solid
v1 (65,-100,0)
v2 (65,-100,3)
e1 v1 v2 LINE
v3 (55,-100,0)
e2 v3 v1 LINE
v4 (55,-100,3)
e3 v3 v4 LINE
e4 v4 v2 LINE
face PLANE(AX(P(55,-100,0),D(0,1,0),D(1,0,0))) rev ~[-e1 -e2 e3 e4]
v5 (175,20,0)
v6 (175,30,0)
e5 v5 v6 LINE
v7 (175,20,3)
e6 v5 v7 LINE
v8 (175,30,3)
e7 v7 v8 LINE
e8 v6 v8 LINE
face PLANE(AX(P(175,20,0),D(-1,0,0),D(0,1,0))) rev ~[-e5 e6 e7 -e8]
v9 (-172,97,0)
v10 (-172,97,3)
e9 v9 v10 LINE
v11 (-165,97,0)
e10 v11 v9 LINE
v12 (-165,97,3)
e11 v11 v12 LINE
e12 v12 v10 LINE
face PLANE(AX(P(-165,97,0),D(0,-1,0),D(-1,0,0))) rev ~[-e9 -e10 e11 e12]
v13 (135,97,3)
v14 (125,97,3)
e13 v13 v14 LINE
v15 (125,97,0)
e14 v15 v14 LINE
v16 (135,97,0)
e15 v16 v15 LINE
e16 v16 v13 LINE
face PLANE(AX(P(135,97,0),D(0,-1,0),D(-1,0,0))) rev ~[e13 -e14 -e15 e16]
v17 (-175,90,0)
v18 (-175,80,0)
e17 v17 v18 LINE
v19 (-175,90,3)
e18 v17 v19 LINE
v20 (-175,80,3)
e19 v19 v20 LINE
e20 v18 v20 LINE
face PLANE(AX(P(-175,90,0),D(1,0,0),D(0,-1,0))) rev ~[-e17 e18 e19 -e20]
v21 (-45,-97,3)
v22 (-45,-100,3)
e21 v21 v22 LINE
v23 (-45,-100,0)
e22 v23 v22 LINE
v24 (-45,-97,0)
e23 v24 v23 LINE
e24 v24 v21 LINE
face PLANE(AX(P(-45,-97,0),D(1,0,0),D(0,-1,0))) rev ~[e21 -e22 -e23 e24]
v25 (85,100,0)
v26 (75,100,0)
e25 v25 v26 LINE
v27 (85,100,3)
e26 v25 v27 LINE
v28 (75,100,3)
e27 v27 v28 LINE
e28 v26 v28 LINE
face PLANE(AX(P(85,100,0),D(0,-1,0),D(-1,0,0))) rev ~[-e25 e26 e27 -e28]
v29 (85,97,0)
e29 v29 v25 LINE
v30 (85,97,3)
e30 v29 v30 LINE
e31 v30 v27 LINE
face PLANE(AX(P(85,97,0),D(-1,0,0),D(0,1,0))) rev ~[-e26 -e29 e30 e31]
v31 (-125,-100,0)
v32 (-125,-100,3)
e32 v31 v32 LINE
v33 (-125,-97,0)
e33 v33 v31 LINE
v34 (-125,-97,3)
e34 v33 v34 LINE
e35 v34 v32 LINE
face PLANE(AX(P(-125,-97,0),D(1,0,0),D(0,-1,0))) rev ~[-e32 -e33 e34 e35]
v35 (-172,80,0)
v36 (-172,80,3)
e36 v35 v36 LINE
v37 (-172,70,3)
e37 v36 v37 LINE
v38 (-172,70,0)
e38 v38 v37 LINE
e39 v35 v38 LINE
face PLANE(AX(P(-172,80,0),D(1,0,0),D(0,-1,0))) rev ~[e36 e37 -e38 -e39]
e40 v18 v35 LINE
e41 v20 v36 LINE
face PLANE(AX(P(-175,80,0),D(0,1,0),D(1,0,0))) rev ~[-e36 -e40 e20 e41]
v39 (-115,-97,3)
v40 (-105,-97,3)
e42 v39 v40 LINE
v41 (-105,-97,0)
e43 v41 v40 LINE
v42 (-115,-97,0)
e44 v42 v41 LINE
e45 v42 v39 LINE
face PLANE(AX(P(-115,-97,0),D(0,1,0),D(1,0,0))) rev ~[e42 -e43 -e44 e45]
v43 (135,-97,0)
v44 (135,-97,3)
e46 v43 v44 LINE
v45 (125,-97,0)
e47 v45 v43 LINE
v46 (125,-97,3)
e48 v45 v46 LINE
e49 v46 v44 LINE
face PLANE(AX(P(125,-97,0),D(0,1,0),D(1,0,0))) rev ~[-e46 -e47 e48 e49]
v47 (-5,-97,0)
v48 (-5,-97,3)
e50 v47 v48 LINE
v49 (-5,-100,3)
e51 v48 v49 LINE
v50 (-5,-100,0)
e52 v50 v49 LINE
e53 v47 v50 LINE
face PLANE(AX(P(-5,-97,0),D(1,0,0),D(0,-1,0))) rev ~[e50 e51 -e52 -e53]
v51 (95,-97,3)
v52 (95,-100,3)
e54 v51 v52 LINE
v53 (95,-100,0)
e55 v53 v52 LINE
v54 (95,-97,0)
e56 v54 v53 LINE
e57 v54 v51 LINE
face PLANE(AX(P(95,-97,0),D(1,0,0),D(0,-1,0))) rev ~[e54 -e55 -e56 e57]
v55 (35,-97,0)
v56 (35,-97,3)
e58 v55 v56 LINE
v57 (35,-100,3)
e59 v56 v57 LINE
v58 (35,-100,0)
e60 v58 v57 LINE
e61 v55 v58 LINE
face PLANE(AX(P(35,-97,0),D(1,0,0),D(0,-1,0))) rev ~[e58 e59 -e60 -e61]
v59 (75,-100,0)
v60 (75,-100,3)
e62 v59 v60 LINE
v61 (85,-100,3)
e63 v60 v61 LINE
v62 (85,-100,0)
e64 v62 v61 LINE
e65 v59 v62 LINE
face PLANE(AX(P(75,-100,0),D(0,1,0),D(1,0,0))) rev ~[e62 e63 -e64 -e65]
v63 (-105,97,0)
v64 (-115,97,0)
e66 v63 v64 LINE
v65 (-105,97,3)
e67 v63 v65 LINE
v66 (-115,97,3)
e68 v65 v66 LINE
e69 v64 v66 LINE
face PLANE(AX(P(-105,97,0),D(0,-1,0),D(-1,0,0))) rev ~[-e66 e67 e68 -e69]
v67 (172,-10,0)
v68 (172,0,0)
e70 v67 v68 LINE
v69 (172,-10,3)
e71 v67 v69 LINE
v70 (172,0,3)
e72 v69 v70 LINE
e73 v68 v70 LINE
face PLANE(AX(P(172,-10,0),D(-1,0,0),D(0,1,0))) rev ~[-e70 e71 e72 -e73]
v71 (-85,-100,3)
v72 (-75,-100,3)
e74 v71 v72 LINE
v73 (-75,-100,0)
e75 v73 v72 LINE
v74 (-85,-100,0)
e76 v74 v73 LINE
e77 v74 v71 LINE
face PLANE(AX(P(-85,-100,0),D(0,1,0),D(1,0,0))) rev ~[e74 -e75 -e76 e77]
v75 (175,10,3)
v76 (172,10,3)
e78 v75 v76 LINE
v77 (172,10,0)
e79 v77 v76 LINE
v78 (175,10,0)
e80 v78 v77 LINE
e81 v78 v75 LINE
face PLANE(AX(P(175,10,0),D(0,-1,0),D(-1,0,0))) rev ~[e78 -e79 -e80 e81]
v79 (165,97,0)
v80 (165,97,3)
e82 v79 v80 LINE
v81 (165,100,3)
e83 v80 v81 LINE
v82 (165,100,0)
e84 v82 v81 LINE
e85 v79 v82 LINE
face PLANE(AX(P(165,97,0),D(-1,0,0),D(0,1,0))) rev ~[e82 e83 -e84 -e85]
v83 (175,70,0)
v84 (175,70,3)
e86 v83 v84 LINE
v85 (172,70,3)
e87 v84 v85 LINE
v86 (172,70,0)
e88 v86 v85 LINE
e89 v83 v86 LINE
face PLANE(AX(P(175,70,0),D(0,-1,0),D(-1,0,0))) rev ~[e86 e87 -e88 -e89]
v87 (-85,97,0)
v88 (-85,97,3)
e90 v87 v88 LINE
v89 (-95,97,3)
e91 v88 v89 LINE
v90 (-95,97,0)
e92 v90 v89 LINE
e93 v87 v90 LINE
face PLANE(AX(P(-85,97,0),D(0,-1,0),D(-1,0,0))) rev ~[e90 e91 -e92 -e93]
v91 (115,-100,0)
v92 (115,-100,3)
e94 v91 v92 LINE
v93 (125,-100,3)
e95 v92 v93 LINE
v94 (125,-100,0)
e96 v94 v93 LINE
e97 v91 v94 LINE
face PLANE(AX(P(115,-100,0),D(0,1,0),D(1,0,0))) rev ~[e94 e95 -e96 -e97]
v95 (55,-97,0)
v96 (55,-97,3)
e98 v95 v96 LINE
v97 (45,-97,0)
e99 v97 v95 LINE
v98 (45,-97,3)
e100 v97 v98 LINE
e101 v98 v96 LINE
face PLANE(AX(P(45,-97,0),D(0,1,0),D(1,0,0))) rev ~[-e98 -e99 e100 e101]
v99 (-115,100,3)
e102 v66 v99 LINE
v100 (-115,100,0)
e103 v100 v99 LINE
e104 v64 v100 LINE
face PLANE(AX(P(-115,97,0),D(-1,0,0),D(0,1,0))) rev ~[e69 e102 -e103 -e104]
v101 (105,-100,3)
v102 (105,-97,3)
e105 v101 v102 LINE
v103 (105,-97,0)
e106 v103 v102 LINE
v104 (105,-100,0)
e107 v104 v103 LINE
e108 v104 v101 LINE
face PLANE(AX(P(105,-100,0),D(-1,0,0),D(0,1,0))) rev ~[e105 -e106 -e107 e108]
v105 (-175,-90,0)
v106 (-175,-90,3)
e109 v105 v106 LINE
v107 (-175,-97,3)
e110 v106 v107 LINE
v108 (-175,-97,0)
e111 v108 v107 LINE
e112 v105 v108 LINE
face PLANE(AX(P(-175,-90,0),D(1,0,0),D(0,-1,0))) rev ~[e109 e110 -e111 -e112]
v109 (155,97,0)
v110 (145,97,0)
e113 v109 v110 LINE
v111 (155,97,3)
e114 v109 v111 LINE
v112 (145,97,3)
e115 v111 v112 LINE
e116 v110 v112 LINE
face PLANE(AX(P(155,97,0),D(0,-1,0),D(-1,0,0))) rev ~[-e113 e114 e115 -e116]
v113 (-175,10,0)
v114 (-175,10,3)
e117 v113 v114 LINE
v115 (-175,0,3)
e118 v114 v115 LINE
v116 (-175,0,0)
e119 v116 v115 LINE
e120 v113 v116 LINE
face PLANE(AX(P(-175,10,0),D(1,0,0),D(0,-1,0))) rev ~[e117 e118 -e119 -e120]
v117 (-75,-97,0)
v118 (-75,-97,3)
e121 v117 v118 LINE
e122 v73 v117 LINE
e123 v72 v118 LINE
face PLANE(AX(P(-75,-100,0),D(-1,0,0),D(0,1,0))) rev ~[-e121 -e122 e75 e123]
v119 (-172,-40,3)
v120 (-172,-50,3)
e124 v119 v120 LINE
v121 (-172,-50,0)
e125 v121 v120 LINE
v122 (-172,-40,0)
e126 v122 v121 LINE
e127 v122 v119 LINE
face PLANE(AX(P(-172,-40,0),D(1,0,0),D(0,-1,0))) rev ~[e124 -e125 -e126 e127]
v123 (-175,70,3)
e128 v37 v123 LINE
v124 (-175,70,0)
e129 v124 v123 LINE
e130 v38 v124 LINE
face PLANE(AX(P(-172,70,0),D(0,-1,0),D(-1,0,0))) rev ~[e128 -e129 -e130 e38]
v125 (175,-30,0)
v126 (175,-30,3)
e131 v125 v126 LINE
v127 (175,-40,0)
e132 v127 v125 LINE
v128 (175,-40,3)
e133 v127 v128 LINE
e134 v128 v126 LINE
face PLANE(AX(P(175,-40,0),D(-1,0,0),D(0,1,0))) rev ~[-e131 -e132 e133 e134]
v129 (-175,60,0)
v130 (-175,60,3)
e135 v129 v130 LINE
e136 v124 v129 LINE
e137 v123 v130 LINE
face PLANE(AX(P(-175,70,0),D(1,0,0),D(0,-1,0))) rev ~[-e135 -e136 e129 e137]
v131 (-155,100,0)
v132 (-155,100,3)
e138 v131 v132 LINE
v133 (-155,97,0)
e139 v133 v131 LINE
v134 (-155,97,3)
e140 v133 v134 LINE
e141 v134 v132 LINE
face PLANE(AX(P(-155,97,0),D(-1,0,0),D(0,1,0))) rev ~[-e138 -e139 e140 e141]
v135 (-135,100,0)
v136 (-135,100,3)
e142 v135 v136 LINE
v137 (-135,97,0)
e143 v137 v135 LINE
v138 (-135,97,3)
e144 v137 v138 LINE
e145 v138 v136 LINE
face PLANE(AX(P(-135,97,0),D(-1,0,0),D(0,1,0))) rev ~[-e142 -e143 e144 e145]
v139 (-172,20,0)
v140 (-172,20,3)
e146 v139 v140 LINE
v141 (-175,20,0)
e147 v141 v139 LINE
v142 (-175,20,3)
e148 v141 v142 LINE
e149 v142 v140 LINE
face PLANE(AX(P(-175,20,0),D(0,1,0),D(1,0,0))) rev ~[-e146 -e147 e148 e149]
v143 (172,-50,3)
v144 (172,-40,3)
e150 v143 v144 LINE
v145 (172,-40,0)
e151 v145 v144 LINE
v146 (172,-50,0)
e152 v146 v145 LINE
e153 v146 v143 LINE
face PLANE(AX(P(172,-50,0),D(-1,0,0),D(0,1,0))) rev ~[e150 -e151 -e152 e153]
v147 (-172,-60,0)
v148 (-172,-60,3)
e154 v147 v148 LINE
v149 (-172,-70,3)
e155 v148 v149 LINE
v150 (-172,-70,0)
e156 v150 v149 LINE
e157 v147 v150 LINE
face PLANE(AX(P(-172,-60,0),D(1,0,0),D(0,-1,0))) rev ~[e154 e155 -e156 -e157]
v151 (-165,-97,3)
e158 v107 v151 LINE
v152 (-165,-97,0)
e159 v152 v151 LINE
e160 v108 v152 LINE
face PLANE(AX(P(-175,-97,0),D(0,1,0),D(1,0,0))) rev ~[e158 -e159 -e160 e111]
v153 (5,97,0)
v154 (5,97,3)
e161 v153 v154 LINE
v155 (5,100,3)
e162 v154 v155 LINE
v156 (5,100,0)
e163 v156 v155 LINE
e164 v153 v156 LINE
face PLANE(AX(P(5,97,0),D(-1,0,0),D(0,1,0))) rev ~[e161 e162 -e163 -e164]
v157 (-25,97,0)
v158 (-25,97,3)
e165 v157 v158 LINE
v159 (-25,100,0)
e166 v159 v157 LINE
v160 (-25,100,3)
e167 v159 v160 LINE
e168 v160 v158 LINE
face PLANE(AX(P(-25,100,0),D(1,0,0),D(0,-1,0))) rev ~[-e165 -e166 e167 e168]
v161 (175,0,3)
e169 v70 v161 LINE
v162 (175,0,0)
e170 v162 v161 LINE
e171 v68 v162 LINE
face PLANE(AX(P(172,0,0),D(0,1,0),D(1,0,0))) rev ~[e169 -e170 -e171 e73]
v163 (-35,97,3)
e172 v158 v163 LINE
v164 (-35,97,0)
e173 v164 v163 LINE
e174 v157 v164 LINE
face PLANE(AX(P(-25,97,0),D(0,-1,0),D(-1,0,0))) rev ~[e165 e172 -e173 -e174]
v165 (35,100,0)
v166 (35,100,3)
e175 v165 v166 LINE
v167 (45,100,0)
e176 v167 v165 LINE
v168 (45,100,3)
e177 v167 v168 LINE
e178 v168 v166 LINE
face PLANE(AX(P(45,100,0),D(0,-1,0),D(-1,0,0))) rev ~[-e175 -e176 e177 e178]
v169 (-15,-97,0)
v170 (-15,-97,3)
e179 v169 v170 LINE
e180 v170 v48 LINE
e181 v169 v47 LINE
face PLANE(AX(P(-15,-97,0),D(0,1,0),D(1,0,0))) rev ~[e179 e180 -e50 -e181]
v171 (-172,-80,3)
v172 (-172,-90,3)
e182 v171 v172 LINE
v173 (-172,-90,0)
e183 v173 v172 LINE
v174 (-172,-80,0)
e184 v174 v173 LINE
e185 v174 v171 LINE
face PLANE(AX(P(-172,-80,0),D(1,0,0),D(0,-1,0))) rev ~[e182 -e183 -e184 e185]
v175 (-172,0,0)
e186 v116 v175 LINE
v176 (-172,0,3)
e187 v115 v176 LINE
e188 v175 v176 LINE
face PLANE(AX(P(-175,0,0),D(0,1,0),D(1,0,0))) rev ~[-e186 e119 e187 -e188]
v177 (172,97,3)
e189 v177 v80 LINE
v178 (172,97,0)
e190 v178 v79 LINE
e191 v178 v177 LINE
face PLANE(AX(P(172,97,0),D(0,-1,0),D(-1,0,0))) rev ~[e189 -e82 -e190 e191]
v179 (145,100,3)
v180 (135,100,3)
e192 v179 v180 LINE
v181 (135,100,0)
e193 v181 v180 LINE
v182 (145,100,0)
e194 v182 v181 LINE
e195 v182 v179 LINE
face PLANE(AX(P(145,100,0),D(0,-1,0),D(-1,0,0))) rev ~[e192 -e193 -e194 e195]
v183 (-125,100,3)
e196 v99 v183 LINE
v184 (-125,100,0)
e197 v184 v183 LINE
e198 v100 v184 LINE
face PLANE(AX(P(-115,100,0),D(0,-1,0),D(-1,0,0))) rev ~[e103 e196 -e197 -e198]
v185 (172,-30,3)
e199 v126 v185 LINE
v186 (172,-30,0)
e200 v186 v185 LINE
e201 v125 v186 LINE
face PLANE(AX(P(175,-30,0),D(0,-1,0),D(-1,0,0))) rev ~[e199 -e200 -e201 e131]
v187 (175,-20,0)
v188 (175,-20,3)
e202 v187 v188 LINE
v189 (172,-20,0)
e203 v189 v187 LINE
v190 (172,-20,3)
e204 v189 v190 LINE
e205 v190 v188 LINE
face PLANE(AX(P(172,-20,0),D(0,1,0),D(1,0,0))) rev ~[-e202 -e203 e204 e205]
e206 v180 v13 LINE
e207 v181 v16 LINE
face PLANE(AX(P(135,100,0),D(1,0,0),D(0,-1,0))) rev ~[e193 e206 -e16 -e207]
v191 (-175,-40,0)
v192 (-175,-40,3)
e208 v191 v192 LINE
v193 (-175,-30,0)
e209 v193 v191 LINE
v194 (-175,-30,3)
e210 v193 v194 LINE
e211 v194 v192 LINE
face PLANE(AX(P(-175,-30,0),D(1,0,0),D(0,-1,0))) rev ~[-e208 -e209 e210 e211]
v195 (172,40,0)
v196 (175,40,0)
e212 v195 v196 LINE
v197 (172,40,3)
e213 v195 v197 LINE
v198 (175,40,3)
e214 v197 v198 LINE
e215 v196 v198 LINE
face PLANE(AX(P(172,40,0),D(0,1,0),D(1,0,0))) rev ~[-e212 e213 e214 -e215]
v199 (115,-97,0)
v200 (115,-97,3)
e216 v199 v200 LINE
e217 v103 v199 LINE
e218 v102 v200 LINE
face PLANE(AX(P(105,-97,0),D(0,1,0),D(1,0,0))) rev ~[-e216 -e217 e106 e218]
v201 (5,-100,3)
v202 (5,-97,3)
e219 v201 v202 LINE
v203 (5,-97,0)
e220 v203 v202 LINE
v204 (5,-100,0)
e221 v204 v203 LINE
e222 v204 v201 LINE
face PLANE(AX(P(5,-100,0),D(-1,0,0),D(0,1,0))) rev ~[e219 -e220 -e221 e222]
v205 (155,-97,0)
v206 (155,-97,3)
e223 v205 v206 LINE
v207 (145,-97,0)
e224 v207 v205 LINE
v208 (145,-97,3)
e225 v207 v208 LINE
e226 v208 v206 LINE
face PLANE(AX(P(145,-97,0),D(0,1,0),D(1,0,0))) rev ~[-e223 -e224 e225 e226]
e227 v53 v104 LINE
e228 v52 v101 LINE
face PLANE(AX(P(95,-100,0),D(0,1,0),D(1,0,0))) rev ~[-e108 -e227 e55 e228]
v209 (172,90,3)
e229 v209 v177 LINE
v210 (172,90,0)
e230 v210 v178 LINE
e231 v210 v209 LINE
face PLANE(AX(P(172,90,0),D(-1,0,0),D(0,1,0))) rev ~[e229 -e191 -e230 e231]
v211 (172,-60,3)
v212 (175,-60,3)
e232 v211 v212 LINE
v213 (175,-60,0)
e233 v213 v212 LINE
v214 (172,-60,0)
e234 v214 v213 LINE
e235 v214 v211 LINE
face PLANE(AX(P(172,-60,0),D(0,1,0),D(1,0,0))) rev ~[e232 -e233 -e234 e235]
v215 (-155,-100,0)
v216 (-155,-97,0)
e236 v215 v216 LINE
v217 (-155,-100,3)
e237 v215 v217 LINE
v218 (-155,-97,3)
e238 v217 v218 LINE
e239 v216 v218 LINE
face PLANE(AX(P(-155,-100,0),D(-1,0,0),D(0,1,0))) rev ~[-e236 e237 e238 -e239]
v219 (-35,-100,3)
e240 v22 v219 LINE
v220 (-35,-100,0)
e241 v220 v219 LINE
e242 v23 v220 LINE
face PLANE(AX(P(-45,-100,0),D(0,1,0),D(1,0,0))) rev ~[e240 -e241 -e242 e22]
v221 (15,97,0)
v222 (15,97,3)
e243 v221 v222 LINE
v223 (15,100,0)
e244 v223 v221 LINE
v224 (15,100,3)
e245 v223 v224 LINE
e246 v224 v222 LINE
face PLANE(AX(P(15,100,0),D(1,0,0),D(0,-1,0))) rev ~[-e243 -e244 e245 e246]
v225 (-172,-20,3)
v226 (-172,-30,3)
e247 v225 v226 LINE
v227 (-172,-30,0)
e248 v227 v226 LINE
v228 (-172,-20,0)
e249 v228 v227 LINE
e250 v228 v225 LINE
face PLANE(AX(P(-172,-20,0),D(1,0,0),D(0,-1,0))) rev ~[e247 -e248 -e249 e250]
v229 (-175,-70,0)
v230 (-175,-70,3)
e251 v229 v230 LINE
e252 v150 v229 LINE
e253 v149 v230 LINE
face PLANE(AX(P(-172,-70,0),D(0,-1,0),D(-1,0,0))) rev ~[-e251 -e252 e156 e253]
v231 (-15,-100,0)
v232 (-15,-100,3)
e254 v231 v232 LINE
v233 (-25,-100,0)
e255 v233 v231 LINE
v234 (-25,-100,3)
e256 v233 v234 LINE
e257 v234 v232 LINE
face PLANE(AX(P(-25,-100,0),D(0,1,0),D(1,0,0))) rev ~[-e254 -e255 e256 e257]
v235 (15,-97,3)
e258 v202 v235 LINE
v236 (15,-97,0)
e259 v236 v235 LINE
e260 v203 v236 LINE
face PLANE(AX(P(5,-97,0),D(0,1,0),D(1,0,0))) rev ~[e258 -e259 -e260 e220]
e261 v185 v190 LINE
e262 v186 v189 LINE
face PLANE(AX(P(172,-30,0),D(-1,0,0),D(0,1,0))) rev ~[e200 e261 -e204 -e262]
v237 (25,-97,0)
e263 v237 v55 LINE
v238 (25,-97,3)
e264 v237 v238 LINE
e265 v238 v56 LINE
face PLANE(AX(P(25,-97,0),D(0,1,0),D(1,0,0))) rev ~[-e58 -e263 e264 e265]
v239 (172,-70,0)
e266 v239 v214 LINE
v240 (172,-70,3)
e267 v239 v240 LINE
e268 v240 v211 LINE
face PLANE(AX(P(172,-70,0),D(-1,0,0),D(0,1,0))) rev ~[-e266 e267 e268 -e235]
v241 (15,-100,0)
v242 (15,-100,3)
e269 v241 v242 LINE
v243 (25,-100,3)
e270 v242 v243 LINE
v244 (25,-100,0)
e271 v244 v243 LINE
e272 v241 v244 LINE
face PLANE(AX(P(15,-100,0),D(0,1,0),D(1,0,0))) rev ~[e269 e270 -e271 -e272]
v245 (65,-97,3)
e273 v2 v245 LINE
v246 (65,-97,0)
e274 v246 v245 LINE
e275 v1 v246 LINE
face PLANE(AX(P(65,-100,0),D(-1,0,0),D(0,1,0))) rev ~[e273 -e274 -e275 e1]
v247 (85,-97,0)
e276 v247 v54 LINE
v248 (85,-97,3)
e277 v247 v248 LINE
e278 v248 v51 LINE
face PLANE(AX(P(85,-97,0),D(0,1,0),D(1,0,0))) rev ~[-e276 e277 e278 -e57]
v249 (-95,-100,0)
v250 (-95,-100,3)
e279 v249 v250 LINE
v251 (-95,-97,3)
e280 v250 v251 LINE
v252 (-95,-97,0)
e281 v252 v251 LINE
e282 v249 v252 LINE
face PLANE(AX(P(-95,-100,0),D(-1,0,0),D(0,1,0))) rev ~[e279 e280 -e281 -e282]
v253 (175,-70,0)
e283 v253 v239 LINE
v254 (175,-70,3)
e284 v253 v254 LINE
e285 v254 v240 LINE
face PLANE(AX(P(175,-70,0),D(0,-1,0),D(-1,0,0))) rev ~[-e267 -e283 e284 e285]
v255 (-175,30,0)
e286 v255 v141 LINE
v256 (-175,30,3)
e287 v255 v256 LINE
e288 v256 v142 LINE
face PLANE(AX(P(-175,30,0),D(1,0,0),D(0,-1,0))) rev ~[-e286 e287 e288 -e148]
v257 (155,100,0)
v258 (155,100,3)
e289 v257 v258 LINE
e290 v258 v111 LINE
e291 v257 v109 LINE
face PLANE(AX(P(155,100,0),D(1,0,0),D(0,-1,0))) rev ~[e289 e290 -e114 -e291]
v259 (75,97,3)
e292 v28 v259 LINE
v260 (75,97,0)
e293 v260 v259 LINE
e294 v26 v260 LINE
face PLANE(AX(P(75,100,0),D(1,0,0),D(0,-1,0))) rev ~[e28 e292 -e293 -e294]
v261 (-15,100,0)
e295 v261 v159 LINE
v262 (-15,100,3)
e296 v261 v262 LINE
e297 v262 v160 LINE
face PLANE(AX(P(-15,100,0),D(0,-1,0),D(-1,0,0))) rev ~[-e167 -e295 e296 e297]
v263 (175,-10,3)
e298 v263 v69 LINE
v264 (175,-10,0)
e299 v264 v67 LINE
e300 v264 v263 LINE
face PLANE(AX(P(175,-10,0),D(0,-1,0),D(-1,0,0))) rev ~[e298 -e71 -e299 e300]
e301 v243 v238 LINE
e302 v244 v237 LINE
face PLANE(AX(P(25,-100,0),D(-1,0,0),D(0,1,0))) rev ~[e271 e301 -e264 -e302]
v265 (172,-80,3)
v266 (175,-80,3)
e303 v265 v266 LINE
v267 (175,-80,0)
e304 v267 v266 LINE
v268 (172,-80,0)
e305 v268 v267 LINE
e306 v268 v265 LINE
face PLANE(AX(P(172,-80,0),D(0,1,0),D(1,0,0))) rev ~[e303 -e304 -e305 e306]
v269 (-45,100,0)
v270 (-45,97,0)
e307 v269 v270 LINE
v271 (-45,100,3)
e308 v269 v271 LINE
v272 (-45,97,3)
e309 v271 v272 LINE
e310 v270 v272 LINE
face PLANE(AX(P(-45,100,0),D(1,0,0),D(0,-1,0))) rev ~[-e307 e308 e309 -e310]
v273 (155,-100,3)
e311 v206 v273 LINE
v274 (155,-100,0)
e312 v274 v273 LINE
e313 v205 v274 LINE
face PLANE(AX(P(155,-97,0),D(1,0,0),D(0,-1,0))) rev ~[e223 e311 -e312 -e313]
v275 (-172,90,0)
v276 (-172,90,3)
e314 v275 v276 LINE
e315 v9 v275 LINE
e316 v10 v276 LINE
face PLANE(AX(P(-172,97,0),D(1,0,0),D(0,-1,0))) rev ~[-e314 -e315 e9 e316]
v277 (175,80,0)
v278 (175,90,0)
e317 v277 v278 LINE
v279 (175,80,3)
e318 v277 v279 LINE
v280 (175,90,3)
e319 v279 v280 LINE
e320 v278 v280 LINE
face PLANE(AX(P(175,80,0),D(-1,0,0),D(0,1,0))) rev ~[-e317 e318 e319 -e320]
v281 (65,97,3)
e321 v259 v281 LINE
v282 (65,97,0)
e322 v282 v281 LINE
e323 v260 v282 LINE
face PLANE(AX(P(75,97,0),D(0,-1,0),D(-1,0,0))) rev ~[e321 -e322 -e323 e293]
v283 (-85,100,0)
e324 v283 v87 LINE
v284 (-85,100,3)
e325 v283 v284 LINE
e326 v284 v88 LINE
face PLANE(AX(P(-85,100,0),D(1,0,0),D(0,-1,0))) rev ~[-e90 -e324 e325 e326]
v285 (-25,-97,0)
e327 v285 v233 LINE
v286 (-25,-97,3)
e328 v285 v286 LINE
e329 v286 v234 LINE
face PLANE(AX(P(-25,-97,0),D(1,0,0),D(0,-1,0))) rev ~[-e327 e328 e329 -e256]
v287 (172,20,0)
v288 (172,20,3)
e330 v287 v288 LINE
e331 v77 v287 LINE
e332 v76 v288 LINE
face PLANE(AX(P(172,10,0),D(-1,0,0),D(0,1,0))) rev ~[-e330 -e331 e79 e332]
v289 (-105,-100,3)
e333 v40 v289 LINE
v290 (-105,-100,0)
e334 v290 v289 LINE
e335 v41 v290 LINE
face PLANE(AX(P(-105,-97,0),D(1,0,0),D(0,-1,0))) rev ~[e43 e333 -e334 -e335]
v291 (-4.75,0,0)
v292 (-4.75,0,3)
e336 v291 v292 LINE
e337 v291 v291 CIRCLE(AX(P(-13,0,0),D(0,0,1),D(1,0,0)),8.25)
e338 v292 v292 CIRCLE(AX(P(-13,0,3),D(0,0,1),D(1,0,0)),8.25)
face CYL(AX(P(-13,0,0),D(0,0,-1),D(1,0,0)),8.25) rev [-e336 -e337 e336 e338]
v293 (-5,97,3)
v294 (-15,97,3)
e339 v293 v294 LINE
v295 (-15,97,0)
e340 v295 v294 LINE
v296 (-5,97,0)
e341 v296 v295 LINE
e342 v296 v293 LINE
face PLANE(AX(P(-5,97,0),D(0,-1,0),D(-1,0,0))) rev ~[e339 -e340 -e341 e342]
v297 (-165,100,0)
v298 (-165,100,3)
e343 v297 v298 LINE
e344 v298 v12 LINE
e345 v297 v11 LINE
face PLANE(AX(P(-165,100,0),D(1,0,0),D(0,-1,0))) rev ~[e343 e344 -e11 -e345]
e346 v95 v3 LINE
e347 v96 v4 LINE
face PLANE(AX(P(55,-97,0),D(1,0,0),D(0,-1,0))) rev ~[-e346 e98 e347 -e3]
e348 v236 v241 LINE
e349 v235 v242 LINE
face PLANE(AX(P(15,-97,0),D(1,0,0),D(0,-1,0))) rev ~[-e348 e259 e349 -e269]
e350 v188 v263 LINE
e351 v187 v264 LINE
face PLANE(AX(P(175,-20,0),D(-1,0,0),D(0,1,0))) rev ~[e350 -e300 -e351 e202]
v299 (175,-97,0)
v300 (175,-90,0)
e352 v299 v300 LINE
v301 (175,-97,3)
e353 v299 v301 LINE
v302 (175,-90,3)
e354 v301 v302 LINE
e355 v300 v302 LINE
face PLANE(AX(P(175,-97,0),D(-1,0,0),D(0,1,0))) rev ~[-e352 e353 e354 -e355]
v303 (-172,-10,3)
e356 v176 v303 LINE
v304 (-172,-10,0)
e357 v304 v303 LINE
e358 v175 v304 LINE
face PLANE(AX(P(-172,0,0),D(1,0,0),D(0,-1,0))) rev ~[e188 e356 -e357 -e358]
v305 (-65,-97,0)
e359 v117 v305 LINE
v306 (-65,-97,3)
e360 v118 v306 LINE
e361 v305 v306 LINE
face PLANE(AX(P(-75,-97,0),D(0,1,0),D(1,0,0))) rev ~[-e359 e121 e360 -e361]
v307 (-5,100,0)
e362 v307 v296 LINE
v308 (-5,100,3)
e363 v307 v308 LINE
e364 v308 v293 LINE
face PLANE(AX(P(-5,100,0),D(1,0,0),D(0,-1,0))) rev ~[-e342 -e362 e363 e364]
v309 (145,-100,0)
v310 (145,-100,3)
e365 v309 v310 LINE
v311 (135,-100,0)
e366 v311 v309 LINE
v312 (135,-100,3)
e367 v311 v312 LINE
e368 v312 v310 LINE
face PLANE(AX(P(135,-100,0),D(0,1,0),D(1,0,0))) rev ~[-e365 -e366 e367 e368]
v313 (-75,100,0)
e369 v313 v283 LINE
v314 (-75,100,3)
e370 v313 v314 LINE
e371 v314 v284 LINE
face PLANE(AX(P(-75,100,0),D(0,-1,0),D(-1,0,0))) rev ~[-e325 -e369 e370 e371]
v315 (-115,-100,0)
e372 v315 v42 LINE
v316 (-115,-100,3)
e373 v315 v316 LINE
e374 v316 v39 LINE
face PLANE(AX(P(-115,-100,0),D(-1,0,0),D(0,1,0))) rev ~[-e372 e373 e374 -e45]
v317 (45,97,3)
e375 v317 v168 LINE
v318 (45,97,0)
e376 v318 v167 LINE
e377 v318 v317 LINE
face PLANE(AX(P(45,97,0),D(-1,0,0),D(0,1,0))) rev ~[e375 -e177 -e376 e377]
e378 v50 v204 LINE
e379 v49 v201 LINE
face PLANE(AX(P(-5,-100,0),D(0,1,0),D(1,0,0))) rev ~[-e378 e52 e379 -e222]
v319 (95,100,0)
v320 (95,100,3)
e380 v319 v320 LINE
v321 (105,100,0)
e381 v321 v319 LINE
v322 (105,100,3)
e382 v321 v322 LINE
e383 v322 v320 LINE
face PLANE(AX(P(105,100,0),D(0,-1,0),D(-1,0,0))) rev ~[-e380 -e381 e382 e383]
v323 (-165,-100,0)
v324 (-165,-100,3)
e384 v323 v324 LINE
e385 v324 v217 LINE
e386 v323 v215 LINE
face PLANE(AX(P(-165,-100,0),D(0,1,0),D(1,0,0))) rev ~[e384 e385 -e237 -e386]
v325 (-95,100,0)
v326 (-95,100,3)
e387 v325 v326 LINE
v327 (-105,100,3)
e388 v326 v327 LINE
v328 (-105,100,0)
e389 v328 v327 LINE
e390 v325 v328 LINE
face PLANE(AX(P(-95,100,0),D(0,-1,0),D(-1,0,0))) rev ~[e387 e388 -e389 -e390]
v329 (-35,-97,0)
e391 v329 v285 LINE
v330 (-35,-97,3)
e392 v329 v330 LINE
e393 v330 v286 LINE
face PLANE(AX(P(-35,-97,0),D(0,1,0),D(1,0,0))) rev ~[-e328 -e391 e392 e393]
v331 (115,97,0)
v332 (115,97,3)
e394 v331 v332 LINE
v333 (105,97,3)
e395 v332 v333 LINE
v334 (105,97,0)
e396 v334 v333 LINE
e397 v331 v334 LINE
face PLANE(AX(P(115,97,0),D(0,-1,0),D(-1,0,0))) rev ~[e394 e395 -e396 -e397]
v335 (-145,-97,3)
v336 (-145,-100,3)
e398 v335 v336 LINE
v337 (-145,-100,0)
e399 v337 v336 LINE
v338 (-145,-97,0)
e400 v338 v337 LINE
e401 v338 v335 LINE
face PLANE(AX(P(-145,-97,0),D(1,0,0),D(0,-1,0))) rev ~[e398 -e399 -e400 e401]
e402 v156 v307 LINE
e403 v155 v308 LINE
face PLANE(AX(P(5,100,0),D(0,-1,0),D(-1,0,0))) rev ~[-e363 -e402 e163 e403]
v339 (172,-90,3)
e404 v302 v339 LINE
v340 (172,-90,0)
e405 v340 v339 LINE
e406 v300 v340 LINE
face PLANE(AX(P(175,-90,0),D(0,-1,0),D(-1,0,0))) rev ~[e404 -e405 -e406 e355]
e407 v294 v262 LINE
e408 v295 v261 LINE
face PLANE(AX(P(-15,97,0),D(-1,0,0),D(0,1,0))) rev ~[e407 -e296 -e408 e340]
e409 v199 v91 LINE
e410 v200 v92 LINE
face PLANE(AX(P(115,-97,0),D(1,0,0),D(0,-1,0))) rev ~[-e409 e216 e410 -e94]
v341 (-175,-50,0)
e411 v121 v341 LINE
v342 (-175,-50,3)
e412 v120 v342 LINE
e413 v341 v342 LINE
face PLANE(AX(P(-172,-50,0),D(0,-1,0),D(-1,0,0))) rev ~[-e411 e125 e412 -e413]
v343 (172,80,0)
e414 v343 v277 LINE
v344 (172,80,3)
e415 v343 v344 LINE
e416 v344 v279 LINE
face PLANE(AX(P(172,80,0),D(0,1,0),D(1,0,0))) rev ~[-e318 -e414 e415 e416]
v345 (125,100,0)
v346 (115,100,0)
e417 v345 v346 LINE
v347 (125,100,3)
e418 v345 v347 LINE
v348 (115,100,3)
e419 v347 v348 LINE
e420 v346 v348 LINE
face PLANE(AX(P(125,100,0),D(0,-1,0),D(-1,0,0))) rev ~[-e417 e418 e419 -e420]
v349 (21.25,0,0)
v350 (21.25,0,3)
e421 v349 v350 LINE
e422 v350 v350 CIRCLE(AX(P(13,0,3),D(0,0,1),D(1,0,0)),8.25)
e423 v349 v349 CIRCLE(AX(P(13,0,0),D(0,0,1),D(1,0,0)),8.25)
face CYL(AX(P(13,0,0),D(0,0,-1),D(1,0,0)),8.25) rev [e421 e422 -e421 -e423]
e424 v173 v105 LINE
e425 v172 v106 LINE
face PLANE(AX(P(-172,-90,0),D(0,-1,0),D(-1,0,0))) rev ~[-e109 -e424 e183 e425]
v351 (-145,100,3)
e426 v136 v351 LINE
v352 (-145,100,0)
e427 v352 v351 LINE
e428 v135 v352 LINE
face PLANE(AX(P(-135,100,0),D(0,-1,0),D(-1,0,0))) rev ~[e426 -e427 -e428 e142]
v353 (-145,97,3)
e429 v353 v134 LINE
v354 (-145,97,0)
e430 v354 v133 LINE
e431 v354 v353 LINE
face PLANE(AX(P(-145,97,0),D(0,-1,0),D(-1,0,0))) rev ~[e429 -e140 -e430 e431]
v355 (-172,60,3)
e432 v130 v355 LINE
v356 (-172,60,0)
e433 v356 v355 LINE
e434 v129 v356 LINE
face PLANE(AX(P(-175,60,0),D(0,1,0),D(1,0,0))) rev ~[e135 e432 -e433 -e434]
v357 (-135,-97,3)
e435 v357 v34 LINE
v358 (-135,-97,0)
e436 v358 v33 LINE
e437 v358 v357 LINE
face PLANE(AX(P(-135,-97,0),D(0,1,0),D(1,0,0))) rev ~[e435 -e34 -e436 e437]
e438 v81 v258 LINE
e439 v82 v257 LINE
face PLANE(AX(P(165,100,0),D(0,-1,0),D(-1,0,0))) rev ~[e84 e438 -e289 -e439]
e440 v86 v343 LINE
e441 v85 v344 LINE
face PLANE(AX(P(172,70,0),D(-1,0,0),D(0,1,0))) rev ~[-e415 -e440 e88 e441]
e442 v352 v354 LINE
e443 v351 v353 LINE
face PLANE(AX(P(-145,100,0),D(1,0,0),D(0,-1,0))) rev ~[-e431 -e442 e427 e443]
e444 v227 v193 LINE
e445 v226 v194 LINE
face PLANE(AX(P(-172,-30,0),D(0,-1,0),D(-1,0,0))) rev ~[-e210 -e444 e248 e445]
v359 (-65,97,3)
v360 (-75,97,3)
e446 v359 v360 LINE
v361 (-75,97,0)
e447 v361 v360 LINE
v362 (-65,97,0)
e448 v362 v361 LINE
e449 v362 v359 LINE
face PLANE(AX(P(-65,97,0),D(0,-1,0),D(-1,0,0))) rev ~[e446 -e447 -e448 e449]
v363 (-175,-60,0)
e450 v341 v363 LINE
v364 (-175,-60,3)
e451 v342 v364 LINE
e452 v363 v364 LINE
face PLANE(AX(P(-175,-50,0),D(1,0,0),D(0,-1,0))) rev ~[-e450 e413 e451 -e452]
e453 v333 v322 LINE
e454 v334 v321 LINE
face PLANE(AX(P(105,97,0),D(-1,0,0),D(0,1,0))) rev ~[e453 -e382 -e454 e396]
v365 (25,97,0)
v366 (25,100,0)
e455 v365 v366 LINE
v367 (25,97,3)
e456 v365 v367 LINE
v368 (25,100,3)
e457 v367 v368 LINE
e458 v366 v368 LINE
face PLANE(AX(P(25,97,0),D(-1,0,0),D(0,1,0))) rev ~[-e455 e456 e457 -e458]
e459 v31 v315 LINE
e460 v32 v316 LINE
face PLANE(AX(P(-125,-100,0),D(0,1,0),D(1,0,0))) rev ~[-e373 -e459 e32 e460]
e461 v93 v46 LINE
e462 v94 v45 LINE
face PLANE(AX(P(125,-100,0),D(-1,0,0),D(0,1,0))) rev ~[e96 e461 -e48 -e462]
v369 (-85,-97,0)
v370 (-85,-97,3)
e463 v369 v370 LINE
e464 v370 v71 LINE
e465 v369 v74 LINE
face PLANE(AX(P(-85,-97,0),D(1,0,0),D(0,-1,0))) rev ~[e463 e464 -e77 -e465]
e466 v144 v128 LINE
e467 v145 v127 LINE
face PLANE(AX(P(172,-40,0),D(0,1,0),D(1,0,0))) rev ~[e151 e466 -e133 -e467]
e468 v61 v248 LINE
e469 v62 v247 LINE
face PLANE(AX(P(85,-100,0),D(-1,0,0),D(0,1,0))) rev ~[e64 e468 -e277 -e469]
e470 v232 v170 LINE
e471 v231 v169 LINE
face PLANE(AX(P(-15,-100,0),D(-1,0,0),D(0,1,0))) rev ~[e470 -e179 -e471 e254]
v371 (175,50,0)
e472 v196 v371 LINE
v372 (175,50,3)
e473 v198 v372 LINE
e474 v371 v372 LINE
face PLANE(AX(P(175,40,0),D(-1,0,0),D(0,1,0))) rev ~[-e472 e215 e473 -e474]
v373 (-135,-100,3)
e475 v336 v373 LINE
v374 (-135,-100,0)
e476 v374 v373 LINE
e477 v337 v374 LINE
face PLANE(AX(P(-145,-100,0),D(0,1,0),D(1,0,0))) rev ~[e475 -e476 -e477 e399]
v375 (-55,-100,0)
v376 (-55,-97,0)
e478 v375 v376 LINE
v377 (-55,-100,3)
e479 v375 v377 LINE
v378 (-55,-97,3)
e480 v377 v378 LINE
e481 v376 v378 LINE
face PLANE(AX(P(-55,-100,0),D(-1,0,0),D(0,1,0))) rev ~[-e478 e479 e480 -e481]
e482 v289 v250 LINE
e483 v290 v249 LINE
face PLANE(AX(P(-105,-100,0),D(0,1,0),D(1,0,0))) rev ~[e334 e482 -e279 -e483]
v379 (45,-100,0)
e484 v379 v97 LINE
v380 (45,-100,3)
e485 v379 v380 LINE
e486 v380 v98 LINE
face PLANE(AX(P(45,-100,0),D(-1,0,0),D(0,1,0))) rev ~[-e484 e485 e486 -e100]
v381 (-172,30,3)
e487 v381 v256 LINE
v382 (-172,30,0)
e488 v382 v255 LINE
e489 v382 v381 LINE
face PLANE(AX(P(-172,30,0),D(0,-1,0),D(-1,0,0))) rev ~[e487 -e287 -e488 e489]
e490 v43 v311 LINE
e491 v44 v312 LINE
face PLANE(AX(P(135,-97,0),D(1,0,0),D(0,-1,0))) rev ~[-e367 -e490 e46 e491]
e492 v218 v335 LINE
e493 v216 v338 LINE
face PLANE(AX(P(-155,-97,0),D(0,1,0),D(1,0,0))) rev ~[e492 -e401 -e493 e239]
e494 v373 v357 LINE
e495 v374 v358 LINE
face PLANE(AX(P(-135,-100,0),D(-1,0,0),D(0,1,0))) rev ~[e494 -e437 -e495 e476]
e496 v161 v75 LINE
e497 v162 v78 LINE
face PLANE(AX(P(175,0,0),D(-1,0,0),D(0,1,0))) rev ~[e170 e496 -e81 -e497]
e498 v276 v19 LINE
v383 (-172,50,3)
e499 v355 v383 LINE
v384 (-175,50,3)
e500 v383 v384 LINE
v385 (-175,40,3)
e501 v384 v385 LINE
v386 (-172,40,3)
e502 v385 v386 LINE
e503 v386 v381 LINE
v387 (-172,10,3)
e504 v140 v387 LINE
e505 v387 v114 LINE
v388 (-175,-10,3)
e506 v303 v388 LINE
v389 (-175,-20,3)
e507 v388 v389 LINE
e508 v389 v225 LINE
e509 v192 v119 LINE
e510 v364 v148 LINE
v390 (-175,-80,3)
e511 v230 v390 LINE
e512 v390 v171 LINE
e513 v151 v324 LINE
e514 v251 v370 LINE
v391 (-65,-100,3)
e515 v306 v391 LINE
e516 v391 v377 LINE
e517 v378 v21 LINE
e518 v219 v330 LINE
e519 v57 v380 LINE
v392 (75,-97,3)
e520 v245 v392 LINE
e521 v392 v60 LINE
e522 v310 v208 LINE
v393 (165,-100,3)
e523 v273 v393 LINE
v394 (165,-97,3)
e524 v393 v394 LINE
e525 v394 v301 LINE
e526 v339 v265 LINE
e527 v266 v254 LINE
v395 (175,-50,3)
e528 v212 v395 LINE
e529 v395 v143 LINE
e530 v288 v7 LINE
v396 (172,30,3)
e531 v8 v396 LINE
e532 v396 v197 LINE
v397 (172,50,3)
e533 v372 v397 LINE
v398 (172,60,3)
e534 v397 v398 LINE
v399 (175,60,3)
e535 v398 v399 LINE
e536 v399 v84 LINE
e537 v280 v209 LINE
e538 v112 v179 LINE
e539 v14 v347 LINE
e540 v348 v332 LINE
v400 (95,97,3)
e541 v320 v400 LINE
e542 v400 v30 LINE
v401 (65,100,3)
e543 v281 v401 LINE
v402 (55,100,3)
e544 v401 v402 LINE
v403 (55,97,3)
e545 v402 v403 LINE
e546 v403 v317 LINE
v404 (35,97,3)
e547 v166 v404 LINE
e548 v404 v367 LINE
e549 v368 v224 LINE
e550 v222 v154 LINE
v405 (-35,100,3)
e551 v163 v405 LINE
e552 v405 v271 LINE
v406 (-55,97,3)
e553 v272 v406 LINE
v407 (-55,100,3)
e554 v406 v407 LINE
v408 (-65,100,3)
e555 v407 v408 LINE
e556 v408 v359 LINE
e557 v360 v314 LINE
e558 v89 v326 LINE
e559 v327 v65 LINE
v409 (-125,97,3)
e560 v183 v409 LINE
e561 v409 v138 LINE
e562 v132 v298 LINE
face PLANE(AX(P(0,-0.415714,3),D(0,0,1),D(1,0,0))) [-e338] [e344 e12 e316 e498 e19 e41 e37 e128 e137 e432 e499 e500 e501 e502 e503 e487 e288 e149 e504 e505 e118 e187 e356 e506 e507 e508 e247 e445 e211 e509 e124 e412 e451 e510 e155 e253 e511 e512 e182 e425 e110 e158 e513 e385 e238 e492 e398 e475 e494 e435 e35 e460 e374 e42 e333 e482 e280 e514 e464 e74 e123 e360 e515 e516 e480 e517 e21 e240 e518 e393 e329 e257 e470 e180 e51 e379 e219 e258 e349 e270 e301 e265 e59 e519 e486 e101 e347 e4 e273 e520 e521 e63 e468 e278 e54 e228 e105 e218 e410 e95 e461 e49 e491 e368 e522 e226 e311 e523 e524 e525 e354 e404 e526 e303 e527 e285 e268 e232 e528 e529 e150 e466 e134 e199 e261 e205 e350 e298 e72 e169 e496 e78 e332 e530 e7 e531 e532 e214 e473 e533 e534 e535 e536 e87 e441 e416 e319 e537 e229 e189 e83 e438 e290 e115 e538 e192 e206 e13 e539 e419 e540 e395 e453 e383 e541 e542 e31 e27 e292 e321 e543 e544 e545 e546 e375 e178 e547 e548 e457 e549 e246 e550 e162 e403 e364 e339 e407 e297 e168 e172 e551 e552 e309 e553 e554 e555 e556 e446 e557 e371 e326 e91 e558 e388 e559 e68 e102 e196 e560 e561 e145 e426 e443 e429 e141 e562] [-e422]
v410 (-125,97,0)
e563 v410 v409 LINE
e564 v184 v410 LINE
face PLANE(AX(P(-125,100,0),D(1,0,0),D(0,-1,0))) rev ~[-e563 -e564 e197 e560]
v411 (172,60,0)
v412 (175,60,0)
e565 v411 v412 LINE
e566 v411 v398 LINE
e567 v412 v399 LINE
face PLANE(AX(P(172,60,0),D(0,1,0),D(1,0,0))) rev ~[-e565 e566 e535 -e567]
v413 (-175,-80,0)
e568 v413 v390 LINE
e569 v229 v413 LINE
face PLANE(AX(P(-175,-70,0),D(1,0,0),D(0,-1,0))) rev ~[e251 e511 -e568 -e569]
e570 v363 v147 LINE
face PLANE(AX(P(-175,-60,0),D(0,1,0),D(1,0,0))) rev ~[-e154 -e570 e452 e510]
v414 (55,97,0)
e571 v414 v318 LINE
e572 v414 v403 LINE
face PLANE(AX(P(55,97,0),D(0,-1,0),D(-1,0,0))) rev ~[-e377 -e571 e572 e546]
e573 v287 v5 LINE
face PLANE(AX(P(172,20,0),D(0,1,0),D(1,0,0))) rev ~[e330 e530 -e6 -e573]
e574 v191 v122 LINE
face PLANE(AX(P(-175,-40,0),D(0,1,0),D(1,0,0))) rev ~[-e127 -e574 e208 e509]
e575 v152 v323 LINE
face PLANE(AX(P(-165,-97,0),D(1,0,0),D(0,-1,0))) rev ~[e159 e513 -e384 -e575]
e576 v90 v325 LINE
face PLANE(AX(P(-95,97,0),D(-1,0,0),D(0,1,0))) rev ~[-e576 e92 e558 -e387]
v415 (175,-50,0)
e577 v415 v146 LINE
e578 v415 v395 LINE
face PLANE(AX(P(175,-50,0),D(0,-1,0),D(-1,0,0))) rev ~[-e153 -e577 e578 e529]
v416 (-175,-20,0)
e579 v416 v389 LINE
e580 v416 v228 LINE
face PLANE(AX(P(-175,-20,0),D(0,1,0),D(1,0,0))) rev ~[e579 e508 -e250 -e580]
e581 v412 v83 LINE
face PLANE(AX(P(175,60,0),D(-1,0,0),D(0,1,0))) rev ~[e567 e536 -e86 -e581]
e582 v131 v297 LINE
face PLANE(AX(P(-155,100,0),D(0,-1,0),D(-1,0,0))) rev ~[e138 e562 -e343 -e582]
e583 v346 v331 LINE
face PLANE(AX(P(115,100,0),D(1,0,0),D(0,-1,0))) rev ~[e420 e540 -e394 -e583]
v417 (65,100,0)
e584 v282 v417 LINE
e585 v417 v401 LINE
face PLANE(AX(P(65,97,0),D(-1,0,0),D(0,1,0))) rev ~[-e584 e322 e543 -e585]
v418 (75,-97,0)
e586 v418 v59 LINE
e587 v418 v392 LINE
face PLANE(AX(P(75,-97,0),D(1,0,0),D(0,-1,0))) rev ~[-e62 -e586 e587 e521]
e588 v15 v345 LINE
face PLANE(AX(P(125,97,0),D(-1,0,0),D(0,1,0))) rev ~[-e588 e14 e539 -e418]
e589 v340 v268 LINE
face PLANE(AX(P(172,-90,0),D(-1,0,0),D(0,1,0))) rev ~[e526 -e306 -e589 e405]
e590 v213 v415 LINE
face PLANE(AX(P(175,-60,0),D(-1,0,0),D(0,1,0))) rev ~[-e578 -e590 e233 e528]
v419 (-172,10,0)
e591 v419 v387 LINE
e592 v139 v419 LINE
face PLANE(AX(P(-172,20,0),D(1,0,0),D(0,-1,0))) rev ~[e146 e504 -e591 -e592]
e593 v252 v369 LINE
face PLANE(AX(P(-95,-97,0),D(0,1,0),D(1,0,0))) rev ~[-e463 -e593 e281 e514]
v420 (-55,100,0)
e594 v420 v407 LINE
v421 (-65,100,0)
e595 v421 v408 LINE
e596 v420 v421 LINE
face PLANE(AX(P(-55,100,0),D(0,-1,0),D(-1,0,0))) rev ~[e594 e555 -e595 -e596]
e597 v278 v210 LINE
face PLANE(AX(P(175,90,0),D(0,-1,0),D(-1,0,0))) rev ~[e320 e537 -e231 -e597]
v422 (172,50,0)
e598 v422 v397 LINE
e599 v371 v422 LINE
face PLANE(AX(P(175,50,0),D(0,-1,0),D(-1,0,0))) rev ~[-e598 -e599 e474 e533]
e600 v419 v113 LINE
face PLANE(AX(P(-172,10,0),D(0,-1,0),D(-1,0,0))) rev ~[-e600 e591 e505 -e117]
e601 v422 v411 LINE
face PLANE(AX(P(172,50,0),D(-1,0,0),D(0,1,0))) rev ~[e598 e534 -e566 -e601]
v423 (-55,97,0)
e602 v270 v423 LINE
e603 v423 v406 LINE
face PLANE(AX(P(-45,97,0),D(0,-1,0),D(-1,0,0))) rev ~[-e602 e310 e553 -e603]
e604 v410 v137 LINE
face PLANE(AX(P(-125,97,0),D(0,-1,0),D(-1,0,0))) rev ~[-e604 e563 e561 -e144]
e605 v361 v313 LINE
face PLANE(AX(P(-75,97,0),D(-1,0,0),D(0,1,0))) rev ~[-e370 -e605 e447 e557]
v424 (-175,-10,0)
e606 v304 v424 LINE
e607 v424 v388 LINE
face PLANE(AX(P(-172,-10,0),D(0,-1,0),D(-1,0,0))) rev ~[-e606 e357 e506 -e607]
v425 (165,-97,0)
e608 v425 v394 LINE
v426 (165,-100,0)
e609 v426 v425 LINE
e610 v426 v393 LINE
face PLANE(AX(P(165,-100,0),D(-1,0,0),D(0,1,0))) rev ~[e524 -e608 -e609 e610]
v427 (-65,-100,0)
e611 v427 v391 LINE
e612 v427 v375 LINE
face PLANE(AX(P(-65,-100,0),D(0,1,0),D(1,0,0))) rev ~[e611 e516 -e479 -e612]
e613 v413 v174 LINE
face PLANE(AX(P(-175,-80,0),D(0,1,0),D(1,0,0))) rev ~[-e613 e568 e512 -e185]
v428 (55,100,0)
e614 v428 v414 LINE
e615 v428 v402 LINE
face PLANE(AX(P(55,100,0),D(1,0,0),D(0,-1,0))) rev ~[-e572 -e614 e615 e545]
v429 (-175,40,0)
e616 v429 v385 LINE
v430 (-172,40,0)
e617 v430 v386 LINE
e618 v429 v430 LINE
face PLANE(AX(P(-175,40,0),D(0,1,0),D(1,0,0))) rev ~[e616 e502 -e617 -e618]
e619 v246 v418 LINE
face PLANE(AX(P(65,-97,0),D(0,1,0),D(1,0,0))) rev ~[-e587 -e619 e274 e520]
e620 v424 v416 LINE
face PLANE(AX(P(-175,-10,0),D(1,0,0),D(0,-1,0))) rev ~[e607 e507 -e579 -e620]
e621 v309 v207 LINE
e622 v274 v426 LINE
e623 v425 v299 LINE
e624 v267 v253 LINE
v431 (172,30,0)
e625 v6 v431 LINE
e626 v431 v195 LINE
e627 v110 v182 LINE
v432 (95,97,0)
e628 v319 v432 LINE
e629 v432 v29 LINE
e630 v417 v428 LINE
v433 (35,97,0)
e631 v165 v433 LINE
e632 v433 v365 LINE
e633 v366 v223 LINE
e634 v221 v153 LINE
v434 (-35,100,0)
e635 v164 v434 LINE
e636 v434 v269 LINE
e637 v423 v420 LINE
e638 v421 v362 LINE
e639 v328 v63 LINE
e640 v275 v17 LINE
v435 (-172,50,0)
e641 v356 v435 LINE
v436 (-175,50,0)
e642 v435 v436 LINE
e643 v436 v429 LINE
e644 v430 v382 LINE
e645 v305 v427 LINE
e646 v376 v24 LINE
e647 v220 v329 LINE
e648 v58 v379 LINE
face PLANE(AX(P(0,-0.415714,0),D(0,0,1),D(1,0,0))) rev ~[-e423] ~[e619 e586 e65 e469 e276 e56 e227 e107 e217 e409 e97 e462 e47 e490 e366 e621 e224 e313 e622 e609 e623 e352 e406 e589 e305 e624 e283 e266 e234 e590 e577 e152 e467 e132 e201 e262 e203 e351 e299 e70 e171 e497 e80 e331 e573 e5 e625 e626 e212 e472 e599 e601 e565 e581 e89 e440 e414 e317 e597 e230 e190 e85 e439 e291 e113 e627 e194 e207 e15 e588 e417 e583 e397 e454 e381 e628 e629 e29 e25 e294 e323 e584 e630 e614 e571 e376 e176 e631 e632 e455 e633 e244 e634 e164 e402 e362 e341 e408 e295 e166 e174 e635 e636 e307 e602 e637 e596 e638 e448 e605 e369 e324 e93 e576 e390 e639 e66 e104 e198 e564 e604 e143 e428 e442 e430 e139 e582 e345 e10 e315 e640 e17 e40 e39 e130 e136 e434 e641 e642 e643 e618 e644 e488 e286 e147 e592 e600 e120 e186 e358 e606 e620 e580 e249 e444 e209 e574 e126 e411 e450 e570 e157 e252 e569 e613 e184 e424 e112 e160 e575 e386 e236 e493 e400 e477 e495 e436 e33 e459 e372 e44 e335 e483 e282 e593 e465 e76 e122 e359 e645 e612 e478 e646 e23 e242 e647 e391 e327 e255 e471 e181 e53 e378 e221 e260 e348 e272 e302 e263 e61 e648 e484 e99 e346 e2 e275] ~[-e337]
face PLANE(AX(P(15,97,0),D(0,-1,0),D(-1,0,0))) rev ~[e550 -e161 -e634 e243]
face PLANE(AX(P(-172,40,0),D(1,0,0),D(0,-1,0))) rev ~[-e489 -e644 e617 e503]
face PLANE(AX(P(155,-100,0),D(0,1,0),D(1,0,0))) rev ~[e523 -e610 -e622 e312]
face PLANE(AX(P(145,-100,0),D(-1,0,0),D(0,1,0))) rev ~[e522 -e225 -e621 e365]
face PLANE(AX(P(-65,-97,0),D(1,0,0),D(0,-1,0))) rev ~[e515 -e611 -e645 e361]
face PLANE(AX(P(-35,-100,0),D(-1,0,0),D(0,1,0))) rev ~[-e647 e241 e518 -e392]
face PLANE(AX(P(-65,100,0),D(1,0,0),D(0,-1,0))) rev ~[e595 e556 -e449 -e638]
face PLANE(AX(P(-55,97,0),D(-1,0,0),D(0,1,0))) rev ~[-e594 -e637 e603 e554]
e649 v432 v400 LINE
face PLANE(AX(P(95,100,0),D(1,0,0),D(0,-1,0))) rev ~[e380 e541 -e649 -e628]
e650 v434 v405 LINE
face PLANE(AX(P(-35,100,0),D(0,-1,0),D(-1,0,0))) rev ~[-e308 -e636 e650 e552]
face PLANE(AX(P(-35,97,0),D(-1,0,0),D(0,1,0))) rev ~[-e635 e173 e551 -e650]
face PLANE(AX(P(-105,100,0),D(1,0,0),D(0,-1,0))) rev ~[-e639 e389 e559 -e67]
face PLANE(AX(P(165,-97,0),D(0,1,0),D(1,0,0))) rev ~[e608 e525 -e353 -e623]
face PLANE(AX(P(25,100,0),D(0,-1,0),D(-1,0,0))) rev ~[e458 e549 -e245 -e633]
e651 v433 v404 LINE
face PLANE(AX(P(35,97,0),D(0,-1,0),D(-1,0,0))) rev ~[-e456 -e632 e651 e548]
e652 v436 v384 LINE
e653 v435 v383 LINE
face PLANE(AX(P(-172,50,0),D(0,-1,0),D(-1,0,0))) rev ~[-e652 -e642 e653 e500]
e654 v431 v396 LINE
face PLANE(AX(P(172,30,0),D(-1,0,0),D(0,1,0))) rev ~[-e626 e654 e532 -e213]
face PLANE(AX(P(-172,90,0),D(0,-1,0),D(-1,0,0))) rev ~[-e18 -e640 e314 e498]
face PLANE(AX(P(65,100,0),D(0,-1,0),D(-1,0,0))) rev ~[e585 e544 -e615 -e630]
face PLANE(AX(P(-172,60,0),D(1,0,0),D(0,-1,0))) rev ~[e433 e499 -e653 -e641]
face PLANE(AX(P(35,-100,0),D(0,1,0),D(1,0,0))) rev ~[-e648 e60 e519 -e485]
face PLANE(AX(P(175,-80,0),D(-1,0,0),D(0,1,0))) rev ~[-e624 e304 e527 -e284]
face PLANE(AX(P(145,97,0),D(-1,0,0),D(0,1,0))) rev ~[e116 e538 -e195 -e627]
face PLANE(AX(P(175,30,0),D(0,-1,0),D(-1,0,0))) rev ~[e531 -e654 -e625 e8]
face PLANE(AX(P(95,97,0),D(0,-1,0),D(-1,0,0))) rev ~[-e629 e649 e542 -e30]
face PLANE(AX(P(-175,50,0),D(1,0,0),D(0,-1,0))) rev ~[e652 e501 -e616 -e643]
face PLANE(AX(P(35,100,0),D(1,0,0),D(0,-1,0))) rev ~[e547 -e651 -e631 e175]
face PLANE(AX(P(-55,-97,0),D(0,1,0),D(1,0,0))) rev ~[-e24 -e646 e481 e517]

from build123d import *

# Parameters (mm, degrees)
CROQUIS1_R              = 8.25
SALIENTE_EXTRUIR1_DEPTH = 3


with BuildPart() as part:
    # Croquis1 → Saliente-Extruir1 (new body)
    with BuildSketch(Plane.XY):
        Polygon((-175, -97), (-165, -97), (-165, -100), (-155, -100), (-155, -97), (-145, -97), (-145, -100), (-135, -100), (-135, -97), (-125, -97), (-125, -100), (-115, -100), (-115, -97), (-105, -97), (-105, -100), (-95, -100), (-95, -97), (-85, -97), (-85, -100), (-75, -100), (-75, -97), (-65, -97), (-65, -100), (-55, -100), (-55, -97), (-45, -97), (-45, -100), (-35, -100), (-35, -97), (-25, -97), (-25, -100), (-15, -100), (-15, -97), (-5, -97), (-5, -100), (5, -100), (5, -97), (15, -97), (15, -100), (25, -100), (25, -97), (35, -97), (35, -100), (45, -100), (45, -97), (55, -97), (55, -100), (65, -100), (65, -97), (75, -97), (75, -100), (85, -100), (85, -97), (95, -97), (95, -100), (105, -100), (105, -97), (115, -97), (115, -100), (125, -100), (125, -97), (135, -97), (135, -100), (145, -100), (145, -97), (155, -97), (155, -100), (165, -100), (165, -97), (175, -97), (175, -90), (172, -90), (172, -80), (175, -80), (175, -70), (172, -70), (172, -60), (175, -60), (175, -50), (172, -50), (172, -40), (175, -40), (175, -30), (172, -30), (172, -20), (175, -20), (175, -10), (172, -10), (172, 0), (175, 0), (175, 10), (172, 10), (172, 20), (175, 20), (175, 30), (172, 30), (172, 40), (175, 40), (175, 50), (172, 50), (172, 60), (175, 60), (175, 70), (172, 70), (172, 80), (175, 80), (175, 90), (172, 90), (172, 97), (165, 97), (165, 100), (155, 100), (155, 97), (145, 97), (145, 100), (135, 100), (135, 97), (125, 97), (125, 100), (115, 100), (115, 97), (105, 97), (105, 100), (95, 100), (95, 97), (85, 97), (85, 100), (75, 100), (75, 97), (65, 97), (65, 100), (55, 100), (55, 97), (45, 97), (45, 100), (35, 100), (35, 97), (25, 97), (25, 100), (15, 100), (15, 97), (5, 97), (5, 100), (-5, 100), (-5, 97), (-15, 97), (-15, 100), (-25, 100), (-25, 97), (-35, 97), (-35, 100), (-45, 100), (-45, 97), (-55, 97), (-55, 100), (-65, 100), (-65, 97), (-75, 97), (-75, 100), (-85, 100), (-85, 97), (-95, 97), (-95, 100), (-105, 100), (-105, 97), (-115, 97), (-115, 100), (-125, 100), (-125, 97), (-135, 97), (-135, 100), (-145, 100), (-145, 97), (-155, 97), (-155, 100), (-165, 100), (-165, 97), (-172, 97), (-172, 90), (-175, 90), (-175, 80), (-172, 80), (-172, 70), (-175, 70), (-175, 60), (-172, 60), (-172, 50), (-175, 50), (-175, 40), (-172, 40), (-172, 30), (-175, 30), (-175, 20), (-172, 20), (-172, 10), (-175, 10), (-175, 0), (-172, 0), (-172, -10), (-175, -10), (-175, -20), (-172, -20), (-172, -30), (-175, -30), (-175, -40), (-172, -40), (-172, -50), (-175, -50), (-175, -60), (-172, -60), (-172, -70), (-175, -70), (-175, -80), (-172, -80), (-172, -90), (-175, -90), align=None)
        with Locations((-13, 0)):
            Circle(CROQUIS1_R, mode=Mode.SUBTRACT)
        with Locations((13, 0)):
            Circle(CROQUIS1_R, mode=Mode.SUBTRACT)
    extrude(amount=SALIENTE_EXTRUIR1_DEPTH)


solid = part.part
